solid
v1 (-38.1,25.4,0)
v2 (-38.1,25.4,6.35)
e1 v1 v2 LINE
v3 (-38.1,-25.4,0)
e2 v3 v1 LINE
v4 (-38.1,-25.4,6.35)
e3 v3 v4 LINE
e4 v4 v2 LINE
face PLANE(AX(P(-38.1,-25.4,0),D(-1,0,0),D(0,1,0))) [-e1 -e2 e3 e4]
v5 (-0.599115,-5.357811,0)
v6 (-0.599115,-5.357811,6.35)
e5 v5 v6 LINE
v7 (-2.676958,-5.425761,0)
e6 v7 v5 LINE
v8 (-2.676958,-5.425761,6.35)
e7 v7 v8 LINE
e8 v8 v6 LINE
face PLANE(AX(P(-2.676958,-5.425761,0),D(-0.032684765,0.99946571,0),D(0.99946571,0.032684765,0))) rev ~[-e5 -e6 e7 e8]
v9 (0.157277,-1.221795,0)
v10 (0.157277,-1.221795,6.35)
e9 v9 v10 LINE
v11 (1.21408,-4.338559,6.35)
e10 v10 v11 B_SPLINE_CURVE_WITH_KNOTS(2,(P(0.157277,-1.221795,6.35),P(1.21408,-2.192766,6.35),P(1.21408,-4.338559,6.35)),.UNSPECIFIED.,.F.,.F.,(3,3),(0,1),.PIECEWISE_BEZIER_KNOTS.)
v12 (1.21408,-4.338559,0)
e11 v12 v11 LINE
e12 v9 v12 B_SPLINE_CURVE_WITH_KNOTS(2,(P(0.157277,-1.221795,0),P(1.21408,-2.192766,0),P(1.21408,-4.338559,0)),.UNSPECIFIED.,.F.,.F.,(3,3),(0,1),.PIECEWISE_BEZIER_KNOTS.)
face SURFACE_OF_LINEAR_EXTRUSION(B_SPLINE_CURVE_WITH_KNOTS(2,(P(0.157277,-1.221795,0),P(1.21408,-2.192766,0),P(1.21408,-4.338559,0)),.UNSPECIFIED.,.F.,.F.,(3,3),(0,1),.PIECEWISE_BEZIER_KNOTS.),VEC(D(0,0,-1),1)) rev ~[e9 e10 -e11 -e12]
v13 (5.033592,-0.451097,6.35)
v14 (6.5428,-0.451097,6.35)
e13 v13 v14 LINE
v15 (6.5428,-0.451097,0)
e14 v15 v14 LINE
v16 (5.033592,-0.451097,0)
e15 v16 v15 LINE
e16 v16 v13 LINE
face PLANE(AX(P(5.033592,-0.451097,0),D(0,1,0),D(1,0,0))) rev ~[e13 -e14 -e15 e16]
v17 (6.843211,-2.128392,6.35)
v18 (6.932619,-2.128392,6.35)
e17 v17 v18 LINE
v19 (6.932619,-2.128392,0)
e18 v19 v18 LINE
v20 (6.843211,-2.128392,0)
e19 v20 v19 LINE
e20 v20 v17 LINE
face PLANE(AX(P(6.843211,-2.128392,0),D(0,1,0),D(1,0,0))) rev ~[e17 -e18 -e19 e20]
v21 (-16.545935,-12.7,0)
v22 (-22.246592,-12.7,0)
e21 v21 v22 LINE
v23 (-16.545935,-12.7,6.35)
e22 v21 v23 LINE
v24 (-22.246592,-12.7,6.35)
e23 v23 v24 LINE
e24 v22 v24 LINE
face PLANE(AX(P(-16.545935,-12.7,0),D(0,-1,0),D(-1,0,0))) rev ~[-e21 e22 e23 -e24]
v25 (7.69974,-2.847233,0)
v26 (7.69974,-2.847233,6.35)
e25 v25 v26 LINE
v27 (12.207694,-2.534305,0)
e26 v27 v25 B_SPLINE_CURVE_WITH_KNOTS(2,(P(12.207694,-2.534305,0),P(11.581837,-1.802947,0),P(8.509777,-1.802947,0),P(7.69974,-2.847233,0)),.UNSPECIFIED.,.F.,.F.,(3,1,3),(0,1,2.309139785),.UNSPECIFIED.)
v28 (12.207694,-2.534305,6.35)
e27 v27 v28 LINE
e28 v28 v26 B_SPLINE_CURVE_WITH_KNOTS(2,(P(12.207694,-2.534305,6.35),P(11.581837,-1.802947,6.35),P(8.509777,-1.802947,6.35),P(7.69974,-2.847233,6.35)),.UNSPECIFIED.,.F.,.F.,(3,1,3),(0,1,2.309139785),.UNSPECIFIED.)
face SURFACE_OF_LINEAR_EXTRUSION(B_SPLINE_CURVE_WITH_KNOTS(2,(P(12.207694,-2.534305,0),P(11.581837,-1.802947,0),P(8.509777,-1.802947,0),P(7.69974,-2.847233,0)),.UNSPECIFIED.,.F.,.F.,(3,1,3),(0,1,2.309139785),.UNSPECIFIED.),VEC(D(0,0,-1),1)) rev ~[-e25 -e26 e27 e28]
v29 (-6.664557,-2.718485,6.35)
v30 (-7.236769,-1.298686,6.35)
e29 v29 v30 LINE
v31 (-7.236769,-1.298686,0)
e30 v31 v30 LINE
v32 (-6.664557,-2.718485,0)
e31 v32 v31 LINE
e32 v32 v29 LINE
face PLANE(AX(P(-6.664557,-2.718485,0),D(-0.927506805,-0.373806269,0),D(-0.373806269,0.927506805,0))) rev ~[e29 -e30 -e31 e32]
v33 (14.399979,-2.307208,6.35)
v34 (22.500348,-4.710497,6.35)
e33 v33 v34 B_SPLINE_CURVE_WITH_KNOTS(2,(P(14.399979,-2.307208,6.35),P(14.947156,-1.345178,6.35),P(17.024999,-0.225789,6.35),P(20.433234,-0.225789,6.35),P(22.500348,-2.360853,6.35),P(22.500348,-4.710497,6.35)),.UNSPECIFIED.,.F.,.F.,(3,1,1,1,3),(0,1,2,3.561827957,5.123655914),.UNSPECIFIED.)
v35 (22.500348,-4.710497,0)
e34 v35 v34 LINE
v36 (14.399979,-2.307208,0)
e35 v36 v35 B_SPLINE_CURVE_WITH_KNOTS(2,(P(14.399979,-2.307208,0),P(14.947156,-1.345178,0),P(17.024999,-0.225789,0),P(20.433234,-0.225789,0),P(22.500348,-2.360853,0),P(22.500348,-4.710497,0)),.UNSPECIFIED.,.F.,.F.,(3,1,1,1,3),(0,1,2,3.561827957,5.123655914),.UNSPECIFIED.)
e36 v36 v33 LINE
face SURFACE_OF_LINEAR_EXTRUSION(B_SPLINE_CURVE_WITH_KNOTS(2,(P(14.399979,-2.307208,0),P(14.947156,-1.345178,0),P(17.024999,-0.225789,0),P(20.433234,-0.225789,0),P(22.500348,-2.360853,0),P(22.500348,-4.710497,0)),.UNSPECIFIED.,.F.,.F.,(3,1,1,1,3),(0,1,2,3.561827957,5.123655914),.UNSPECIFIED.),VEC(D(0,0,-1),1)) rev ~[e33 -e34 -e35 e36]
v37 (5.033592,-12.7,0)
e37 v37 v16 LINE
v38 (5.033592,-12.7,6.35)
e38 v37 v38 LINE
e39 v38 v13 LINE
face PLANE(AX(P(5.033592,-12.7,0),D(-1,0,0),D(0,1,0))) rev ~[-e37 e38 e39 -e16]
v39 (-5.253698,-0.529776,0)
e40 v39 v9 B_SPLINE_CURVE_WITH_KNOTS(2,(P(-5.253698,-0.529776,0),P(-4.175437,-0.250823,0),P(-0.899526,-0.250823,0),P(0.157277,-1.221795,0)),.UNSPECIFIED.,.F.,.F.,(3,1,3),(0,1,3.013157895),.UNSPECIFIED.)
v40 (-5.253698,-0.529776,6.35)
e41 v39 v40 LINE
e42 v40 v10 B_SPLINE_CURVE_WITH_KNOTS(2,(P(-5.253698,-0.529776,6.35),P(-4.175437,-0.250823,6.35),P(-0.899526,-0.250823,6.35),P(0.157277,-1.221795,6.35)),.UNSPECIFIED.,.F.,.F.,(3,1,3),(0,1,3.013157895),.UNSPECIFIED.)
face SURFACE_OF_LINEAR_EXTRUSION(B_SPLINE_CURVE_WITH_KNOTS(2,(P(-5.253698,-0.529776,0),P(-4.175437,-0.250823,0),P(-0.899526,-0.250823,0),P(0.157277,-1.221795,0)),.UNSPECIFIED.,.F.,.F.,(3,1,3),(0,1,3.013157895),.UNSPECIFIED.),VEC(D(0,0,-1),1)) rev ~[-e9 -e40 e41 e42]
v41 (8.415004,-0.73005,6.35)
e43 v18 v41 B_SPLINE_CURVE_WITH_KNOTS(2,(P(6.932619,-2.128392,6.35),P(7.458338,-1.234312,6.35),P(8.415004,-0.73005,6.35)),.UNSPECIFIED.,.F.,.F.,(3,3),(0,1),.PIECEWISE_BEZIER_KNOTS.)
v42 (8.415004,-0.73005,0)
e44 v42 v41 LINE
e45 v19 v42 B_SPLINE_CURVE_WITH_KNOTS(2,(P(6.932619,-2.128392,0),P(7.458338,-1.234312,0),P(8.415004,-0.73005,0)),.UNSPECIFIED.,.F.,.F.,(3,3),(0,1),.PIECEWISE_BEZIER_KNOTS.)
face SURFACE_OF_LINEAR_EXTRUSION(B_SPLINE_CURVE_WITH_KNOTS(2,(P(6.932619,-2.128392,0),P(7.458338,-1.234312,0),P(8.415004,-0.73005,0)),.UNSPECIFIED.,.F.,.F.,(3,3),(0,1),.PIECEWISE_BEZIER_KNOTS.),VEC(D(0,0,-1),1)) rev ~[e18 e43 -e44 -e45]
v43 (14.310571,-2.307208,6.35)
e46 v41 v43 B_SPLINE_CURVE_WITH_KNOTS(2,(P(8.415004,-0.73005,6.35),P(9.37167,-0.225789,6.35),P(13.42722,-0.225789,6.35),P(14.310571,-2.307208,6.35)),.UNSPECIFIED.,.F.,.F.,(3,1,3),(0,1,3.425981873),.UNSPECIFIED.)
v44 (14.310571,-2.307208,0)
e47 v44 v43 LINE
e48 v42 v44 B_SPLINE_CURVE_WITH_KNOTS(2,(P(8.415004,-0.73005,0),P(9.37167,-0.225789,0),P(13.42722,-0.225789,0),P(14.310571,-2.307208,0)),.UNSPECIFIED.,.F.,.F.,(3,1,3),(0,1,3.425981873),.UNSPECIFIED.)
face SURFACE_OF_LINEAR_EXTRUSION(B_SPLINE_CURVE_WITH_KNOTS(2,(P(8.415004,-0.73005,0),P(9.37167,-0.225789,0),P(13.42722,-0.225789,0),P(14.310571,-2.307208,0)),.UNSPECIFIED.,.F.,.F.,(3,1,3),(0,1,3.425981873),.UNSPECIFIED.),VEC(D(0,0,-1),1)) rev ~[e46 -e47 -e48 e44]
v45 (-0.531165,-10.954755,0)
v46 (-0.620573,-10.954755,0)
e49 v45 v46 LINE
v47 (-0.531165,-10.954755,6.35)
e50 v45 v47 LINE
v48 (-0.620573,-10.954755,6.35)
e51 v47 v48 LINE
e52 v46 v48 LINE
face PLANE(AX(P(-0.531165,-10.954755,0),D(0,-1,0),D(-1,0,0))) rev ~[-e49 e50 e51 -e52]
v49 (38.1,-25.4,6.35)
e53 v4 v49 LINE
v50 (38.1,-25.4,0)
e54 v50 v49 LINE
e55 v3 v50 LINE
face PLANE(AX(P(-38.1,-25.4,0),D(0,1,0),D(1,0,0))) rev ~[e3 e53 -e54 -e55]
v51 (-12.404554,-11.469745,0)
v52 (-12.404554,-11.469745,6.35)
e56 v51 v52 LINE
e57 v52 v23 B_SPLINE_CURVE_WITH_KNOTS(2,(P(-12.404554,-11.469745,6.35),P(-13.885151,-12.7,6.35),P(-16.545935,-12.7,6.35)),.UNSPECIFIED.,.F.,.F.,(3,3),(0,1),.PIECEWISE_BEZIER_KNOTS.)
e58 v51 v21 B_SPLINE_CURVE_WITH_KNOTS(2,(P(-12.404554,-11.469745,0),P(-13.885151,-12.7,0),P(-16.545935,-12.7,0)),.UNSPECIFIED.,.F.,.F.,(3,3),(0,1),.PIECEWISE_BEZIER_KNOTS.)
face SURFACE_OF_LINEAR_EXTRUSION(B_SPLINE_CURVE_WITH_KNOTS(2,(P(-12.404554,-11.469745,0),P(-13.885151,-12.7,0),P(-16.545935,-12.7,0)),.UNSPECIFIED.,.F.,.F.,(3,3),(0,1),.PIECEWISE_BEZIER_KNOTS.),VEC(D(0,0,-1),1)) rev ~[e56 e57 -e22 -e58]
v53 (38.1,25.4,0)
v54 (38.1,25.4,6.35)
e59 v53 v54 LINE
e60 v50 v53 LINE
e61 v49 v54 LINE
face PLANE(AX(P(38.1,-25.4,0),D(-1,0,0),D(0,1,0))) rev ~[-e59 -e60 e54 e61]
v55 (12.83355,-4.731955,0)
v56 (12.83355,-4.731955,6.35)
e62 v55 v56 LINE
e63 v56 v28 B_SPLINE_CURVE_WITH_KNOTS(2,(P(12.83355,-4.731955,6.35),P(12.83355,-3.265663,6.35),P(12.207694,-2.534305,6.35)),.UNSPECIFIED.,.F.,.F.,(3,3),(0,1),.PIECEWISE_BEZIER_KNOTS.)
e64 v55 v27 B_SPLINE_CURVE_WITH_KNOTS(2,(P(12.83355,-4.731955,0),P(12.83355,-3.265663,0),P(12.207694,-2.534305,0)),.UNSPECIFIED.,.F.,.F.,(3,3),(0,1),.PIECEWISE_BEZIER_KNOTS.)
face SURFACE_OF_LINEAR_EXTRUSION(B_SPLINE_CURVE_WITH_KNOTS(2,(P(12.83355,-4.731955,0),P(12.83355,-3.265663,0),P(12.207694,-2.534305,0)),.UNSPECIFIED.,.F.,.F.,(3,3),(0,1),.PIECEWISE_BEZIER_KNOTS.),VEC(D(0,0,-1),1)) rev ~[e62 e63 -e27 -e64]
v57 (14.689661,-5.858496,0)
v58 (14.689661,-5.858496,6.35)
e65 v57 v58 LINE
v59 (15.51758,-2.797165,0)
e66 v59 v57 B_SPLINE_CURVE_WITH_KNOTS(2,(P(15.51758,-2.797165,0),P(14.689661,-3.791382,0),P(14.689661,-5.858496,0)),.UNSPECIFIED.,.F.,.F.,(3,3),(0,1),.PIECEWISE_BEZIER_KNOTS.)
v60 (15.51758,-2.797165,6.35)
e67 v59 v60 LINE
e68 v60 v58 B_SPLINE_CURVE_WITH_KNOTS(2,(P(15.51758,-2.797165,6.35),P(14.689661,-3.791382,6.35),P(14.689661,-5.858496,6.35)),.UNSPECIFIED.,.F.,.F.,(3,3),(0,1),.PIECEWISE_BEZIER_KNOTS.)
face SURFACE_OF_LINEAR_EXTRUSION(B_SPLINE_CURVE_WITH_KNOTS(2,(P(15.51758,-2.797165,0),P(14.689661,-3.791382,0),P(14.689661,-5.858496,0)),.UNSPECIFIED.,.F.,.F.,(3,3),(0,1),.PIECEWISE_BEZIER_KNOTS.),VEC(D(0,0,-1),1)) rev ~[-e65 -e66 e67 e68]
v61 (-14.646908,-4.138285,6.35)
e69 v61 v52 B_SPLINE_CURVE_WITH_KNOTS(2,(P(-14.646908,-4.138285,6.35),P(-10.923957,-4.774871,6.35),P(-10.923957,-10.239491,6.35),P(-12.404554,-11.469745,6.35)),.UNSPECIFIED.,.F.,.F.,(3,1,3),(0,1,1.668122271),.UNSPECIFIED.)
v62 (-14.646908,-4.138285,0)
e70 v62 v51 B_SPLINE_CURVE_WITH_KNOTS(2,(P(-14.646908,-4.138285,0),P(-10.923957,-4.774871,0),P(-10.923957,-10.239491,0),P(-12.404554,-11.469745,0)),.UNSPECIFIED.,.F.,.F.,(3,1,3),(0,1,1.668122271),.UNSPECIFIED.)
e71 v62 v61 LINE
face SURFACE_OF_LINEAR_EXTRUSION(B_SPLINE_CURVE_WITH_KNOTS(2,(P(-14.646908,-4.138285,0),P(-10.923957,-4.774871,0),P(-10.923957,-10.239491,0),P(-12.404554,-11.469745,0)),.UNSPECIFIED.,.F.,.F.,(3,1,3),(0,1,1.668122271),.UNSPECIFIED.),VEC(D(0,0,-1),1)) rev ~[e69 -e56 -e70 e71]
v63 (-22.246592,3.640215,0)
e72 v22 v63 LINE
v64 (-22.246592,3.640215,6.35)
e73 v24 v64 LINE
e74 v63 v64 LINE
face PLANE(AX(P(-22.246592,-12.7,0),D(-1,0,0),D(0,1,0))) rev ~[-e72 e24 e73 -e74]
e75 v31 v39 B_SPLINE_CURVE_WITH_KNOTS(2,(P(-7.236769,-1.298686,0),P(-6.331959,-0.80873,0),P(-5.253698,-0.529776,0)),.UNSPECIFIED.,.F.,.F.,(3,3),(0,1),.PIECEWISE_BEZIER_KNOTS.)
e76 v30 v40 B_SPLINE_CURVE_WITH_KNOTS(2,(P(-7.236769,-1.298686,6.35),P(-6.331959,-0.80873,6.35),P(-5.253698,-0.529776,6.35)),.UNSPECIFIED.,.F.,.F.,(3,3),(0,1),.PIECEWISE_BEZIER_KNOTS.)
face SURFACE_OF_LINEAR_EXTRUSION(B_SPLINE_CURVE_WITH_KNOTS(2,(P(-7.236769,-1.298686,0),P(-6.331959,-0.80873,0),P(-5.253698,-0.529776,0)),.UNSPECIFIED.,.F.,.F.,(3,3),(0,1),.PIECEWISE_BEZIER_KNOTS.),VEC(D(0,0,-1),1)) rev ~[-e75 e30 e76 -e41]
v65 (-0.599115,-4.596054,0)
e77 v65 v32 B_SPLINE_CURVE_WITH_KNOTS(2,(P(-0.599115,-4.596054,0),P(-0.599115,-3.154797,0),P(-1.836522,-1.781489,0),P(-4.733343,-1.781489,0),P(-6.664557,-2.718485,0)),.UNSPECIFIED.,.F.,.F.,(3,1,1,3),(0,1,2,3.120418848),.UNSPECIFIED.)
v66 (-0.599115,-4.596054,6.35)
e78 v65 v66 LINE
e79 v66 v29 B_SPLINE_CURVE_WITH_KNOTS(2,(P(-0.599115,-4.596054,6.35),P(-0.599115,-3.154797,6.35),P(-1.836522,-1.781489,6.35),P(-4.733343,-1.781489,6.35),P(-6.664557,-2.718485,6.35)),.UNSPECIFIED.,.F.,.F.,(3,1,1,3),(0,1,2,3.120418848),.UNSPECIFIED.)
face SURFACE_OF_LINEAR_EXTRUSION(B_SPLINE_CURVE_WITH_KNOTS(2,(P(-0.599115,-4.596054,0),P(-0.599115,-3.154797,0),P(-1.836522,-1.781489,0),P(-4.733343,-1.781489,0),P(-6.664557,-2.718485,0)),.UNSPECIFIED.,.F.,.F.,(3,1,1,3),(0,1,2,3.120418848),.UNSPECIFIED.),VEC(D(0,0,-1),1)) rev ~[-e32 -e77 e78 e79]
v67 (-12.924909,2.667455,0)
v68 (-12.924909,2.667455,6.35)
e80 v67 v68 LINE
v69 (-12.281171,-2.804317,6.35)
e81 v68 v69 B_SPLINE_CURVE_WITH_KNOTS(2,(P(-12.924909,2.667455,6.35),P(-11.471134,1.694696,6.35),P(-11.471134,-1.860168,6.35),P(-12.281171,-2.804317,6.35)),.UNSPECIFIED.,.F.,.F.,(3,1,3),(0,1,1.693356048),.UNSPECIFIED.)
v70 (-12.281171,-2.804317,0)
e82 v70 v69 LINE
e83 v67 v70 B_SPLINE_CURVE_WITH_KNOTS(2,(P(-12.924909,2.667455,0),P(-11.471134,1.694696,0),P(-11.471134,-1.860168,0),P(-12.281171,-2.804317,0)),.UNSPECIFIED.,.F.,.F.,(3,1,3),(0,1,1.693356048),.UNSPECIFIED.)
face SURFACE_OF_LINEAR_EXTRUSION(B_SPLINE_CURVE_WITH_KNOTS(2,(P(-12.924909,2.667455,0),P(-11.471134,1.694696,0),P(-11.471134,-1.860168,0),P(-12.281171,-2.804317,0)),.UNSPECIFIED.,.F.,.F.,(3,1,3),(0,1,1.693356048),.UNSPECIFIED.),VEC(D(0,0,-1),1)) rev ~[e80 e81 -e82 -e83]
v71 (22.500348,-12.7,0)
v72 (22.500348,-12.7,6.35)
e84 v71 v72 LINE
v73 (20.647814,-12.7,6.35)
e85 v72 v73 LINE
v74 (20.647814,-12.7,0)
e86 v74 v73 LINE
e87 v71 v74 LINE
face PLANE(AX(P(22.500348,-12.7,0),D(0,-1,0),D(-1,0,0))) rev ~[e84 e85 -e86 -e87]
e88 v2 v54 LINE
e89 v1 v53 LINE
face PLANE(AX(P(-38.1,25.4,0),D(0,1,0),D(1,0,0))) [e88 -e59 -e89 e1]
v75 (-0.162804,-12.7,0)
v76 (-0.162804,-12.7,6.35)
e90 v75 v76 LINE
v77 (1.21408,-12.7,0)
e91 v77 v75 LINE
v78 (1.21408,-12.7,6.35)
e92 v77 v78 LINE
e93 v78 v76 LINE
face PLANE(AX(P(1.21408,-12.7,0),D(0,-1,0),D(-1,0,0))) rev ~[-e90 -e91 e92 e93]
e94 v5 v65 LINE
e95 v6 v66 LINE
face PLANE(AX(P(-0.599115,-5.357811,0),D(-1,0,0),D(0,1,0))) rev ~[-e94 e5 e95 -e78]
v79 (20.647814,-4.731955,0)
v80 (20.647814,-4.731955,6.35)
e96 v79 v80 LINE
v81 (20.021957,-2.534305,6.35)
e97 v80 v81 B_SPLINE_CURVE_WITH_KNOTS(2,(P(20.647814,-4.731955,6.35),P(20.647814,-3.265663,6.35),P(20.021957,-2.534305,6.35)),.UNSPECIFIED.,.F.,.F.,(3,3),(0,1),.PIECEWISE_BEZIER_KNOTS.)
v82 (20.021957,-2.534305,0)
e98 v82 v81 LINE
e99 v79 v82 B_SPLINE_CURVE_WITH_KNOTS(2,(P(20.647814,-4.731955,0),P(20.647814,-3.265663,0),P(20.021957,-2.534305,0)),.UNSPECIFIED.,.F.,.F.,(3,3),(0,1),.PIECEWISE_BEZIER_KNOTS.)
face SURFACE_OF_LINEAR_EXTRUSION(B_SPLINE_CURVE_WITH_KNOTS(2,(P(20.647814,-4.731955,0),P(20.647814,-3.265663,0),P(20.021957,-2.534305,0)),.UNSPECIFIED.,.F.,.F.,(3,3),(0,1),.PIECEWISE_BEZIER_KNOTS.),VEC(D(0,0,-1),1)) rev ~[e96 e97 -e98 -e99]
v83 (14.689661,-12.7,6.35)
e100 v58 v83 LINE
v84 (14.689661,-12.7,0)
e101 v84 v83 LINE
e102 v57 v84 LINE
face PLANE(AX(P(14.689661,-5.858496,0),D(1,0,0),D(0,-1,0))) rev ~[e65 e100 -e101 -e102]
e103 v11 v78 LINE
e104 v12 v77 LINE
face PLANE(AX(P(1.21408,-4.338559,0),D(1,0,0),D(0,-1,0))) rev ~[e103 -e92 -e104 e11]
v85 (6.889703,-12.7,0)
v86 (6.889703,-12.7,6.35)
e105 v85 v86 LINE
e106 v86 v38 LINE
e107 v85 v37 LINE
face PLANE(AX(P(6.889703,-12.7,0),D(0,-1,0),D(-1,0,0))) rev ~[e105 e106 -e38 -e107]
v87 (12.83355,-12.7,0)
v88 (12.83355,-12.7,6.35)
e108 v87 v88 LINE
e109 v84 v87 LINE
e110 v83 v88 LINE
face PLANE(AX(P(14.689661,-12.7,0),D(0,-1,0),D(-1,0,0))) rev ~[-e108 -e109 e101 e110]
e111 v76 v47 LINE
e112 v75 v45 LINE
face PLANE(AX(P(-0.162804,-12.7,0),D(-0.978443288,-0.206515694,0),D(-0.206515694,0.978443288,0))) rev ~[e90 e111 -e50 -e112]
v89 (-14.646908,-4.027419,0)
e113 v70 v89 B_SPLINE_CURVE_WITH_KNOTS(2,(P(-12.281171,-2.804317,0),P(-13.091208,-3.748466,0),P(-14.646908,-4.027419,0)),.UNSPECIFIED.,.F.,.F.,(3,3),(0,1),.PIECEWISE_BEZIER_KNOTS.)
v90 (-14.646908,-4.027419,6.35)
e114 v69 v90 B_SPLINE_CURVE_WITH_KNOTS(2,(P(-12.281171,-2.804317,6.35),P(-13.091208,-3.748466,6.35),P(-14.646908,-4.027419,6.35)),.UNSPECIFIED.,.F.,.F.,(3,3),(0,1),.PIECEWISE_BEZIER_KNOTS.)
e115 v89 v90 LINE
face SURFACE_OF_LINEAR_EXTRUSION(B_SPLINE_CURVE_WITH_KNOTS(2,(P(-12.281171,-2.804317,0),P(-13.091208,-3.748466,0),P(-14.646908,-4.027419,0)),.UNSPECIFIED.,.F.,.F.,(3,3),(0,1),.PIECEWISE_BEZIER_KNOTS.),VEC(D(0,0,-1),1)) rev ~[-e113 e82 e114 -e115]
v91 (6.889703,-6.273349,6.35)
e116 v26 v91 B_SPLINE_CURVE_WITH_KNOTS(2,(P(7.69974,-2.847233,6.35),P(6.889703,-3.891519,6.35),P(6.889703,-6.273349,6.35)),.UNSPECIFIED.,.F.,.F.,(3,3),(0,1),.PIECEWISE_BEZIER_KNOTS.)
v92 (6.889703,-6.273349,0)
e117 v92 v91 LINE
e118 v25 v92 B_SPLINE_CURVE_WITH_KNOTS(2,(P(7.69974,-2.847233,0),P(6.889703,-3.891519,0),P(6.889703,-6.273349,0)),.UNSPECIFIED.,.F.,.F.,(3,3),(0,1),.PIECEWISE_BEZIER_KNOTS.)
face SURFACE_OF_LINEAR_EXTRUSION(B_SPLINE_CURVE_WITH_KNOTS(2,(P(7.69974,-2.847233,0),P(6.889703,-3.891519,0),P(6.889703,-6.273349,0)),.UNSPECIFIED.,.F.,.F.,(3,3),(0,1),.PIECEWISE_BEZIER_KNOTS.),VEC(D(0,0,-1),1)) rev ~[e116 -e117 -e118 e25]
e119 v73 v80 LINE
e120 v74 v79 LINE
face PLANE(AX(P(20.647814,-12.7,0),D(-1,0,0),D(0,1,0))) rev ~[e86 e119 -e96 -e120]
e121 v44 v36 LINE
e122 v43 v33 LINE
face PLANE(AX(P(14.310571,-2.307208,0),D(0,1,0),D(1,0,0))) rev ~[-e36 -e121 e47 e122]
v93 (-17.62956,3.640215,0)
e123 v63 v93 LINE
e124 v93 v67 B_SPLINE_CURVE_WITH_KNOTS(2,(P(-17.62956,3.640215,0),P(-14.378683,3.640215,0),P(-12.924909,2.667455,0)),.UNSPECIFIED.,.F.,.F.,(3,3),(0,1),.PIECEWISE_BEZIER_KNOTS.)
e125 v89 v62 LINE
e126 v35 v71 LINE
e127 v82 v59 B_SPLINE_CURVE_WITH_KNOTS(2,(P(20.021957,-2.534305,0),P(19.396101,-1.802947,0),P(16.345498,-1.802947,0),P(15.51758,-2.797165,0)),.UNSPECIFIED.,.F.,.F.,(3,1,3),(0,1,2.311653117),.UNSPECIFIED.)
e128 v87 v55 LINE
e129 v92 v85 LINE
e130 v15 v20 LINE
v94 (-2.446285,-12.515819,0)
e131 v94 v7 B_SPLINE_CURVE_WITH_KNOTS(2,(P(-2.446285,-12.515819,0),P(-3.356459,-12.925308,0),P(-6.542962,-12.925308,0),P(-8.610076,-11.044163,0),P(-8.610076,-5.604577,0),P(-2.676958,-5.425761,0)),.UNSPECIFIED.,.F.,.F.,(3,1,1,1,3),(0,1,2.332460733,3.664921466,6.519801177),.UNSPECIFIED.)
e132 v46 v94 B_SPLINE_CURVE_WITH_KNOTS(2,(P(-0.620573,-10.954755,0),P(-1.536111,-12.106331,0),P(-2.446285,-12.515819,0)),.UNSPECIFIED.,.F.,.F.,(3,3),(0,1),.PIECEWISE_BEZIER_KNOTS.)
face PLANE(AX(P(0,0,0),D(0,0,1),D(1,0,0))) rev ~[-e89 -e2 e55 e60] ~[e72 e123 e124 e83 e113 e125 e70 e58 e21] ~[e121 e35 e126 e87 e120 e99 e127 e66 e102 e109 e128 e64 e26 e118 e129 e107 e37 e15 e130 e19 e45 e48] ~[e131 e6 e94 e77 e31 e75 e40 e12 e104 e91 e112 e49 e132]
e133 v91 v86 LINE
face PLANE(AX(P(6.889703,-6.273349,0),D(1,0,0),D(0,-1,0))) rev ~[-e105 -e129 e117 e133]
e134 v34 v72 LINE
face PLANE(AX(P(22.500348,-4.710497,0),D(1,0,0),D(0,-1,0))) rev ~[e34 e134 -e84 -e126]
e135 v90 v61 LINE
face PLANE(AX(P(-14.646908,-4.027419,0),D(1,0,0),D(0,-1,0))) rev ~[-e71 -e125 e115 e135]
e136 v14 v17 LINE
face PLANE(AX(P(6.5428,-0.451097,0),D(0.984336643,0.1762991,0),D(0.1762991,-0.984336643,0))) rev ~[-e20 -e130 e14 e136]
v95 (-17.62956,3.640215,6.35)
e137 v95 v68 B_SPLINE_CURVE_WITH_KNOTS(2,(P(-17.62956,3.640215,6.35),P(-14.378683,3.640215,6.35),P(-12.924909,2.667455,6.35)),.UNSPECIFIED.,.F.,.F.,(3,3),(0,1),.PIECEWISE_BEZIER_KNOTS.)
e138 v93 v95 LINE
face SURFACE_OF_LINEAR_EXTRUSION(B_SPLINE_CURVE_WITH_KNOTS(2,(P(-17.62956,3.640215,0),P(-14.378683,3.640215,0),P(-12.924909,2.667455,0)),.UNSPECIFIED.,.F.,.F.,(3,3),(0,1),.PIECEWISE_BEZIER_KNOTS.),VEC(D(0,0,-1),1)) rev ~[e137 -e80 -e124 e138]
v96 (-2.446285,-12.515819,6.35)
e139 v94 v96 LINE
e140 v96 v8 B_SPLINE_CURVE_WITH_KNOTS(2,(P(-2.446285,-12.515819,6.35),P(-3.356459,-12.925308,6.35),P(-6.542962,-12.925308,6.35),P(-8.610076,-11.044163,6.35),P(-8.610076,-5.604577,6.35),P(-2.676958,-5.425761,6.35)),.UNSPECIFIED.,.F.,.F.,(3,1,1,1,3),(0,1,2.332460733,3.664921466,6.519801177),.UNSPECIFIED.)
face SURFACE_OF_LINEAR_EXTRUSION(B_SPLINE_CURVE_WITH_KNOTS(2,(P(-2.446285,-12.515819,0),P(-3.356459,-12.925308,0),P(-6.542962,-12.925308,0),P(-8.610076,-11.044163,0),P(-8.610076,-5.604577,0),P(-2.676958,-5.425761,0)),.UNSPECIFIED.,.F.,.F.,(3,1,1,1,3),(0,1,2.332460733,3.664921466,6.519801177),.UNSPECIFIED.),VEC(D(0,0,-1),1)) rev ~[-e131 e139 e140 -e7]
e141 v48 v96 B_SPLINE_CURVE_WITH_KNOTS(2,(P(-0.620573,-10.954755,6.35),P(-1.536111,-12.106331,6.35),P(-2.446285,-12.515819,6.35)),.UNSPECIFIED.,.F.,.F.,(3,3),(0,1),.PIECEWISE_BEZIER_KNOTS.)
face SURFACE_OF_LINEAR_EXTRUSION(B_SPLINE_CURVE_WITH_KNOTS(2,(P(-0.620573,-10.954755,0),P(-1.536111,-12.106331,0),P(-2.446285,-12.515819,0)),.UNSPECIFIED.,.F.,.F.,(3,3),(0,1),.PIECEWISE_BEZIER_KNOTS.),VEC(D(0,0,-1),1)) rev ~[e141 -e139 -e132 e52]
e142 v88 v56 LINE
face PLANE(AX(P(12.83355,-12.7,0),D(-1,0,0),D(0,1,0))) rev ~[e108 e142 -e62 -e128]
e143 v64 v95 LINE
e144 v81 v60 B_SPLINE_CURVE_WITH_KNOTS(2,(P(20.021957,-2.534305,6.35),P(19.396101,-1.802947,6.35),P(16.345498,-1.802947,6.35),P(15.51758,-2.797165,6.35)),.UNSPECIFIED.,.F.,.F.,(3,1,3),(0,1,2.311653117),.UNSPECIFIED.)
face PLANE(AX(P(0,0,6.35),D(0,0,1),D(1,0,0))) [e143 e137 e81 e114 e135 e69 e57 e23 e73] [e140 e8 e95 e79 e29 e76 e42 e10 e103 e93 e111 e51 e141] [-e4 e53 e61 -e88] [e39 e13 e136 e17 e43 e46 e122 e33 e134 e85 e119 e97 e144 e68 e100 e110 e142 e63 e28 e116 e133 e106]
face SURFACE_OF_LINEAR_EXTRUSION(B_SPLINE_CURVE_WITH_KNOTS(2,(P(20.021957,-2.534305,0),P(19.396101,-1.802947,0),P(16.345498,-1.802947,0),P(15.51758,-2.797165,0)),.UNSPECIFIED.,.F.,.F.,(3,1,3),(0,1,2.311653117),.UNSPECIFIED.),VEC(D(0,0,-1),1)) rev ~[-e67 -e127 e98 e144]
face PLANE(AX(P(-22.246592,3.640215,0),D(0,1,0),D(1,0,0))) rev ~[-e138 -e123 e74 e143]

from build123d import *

# Parameters (mm, degrees)
F0_W     = 76.2
F0_H     = 50.8
F1_DEPTH = 6.35


with BuildPart() as f1:
    # F0 (on Top) → F1 (new body)
    with BuildSketch(Plane.XY):
        Rectangle(F0_W, F0_H)
        with BuildLine():
            Line((1.2140801556, -12.7), (-0.1628037906, -12.7))
            Line((-0.1628037906, -12.7), (-0.5311649502, -10.9547548942))
            Line((-0.5311649502, -10.9547548942), (-0.6205729987, -10.9547548942))
            add(Edge.make_bspline(
                [(-0.6205729987, -10.9547548942), (-1.5361114148, -12.1063305583), (-2.446285348, -12.5158194202)],
                knots=[0, 0, 0, 1, 1, 1], degree=2))
            add(Edge.make_bspline(
                [(-2.446285348, -12.5158194202), (-3.3564592813, -12.9253082821), (-4.7226142616, -12.9253082821)],
                knots=[0, 0, 0, 1, 1, 1], degree=2))
            add(Edge.make_bspline(
                [(-4.7226142616, -12.9253082821), (-6.5429621281, -12.9253082821), (-7.5765191682, -11.9847356124)],
                knots=[0, 0, 0, 1, 1, 1], degree=2))
            add(Edge.make_bspline(
                [(-7.5765191682, -11.9847356124), (-8.6100762083, -11.0441629427), (-8.6100762083, -9.3132231247)],
                knots=[0, 0, 0, 1, 1, 1], degree=2))
            add(Edge.make_bspline(
                [(-8.6100762083, -9.3132231247), (-8.6100762083, -5.6045772749), (-2.676958113, -5.425761178)],
                knots=[0, 0, 0, 1, 1, 1], degree=2))
            Line((-2.676958113, -5.425761178), (-0.599115067, -5.3578110612))
            Line((-0.599115067, -5.3578110612), (-0.599115067, -4.5960544884))
            add(Edge.make_bspline(
                [(-0.599115067, -4.5960544884), (-0.599115067, -3.1547967473), (-1.2178187623, -2.4681429352)],
                knots=[0, 0, 0, 1, 1, 1], degree=2))
            add(Edge.make_bspline(
                [(-1.2178187623, -2.4681429352), (-1.8365224576, -1.7814891231), (-3.2026774379, -1.7814891231)],
                knots=[0, 0, 0, 1, 1, 1], degree=2))
            add(Edge.make_bspline(
                [(-3.2026774379, -1.7814891231), (-4.7333432274, -1.7814891231), (-6.664557074, -2.7184854709)],
                knots=[0, 0, 0, 1, 1, 1], degree=2))
            Line((-6.664557074, -2.7184854709), (-7.236768584, -1.2986856615))
            add(Edge.make_bspline(
                [(-7.236768584, -1.2986856615), (-6.3319591337, -0.808729556), (-5.2536980694, -0.5297764448)],
                knots=[0, 0, 0, 1, 1, 1], degree=2))
            add(Edge.make_bspline(
                [(-5.2536980694, -0.5297764448), (-4.1754370051, -0.2508233337), (-3.0882351359, -0.2508233337)],
                knots=[0, 0, 0, 1, 1, 1], degree=2))
            add(Edge.make_bspline(
                [(-3.0882351359, -0.2508233337), (-0.8995261098, -0.2508233337), (0.1572770229, -1.2217947398)],
                knots=[0, 0, 0, 1, 1, 1], degree=2))
            add(Edge.make_bspline(
                [(0.1572770229, -1.2217947398), (1.2140801556, -2.192766146), (1.2140801556, -4.3385593088)],
                knots=[0, 0, 0, 1, 1, 1], degree=2))
            Line((1.2140801556, -4.3385593088), (1.2140801556, -12.7))
        make_face(mode=Mode.SUBTRACT)
        with BuildLine():
            Line((-22.246591758, -12.7), (-22.246591758, 3.6402149349))
            Line((-22.246591758, 3.6402149349), (-17.629560136, 3.6402149349))
            add(Edge.make_bspline(
                [(-17.629560136, 3.6402149349), (-14.3786834943, 3.6402149349), (-12.9249086265, 2.6674553678)],
                knots=[0, 0, 0, 1, 1, 1], degree=2))
            add(Edge.make_bspline(
                [(-12.9249086265, 2.6674553678), (-11.4711337587, 1.6946958006), (-11.4711337587, -0.404605177)],
                knots=[0, 0, 0, 1, 1, 1], degree=2))
            add(Edge.make_bspline(
                [(-11.4711337587, -0.404605177), (-11.4711337587, -1.8601682058), (-12.2811706777, -2.8043171974)],
                knots=[0, 0, 0, 1, 1, 1], degree=2))
            add(Edge.make_bspline(
                [(-12.2811706777, -2.8043171974), (-13.0912075966, -3.7484661891), (-14.6469076397, -4.0274193002)],
                knots=[0, 0, 0, 1, 1, 1], degree=2))
            Line((-14.6469076397, -4.0274193002), (-14.6469076397, -4.1382852803))
            add(Edge.make_bspline(
                [(-14.6469076397, -4.1382852803), (-10.9239565022, -4.7748705853), (-10.9239565022, -8.0507814805)],
                knots=[0, 0, 0, 1, 1, 1], degree=2))
            add(Edge.make_bspline(
                [(-10.9239565022, -8.0507814805), (-10.9239565022, -10.2394905066), (-12.4045537845, -11.4697452533)],
                knots=[0, 0, 0, 1, 1, 1], degree=2))
            add(Edge.make_bspline(
                [(-12.4045537845, -11.4697452533), (-13.8851510669, -12.7), (-16.5459345888, -12.7)],
                knots=[0, 0, 0, 1, 1, 1], degree=2))
            Line((-16.5459345888, -12.7), (-22.246591758, -12.7))
        make_face(mode=Mode.SUBTRACT)
        with BuildLine():
            Line((22.5003483308, -12.7), (20.6478135669, -12.7))
            Line((20.6478135669, -12.7), (20.6478135669, -4.731954722))
            add(Edge.make_bspline(
                [(20.6478135669, -4.731954722), (20.6478135669, -3.2656627274), (20.0219572278, -2.5343048911)],
                knots=[0, 0, 0, 1, 1, 1], degree=2))
            add(Edge.make_bspline(
                [(20.0219572278, -2.5343048911), (19.3961008886, -1.8029470548), (18.0764380935, -1.8029470548)],
                knots=[0, 0, 0, 1, 1, 1], degree=2))
            add(Edge.make_bspline(
                [(18.0764380935, -1.8029470548), (16.3454982755, -1.8029470548), (15.5175797468, -2.7971645535)],
                knots=[0, 0, 0, 1, 1, 1], degree=2))
            add(Edge.make_bspline(
                [(15.5175797468, -2.7971645535), (14.6896612181, -3.7913820523), (14.6896612181, -5.8584961325)],
                knots=[0, 0, 0, 1, 1, 1], degree=2))
            Line((14.6896612181, -5.8584961325), (14.6896612181, -12.7))
            Line((14.6896612181, -12.7), (12.8335501323, -12.7))
            Line((12.8335501323, -12.7), (12.8335501323, -4.731954722))
            add(Edge.make_bspline(
                [(12.8335501323, -4.731954722), (12.8335501323, -3.2656627274), (12.2076937931, -2.5343048911)],
                knots=[0, 0, 0, 1, 1, 1], degree=2))
            add(Edge.make_bspline(
                [(12.2076937931, -2.5343048911), (11.581837454, -1.8029470548), (10.251445693, -1.8029470548)],
                knots=[0, 0, 0, 1, 1, 1], degree=2))
            add(Edge.make_bspline(
                [(10.251445693, -1.8029470548), (8.5097769092, -1.8029470548), (7.6997399902, -2.8472330607)],
                knots=[0, 0, 0, 1, 1, 1], degree=2))
            add(Edge.make_bspline(
                [(7.6997399902, -2.8472330607), (6.8897030713, -3.8915190666), (6.8897030713, -6.2733494773)],
                knots=[0, 0, 0, 1, 1, 1], degree=2))
            Line((6.8897030713, -6.2733494773), (6.8897030713, -12.7))
            Line((6.8897030713, -12.7), (5.0335919854, -12.7))
            Line((5.0335919854, -12.7), (5.0335919854, -0.4510973622))
            Line((5.0335919854, -0.4510973622), (6.5427998433, -0.4510973622))
            Line((6.5427998433, -0.4510973622), (6.8432108861, -2.1283923511))
            Line((6.8432108861, -2.1283923511), (6.9326189345, -2.1283923511))
            add(Edge.make_bspline(
                [(6.9326189345, -2.1283923511), (7.4583382594, -1.2343118666), (8.4150043778, -0.7300504733)],
                knots=[0, 0, 0, 1, 1, 1], degree=2))
            add(Edge.make_bspline(
                [(8.4150043778, -0.7300504733), (9.3716704963, -0.2257890801), (10.5554330578, -0.2257890801)],
                knots=[0, 0, 0, 1, 1, 1], degree=2))
            add(Edge.make_bspline(
                [(10.5554330578, -0.2257890801), (13.427219574, -0.2257890801), (14.3105710927, -2.307208448)],
                knots=[0, 0, 0, 1, 1, 1], degree=2))
            Line((14.3105710927, -2.307208448), (14.3999791412, -2.307208448))
            add(Edge.make_bspline(
                [(14.3999791412, -2.307208448), (14.9471563977, -1.3451778467), (15.9860779207, -0.7854834634)],
                knots=[0, 0, 0, 1, 1, 1], degree=2))
            add(Edge.make_bspline(
                [(15.9860779207, -0.7854834634), (17.0249994437, -0.2257890801), (18.3553912046, -0.2257890801)],
                knots=[0, 0, 0, 1, 1, 1], degree=2))
            add(Edge.make_bspline(
                [(18.3553912046, -0.2257890801), (20.4332342506, -0.2257890801), (21.4667912907, -1.2933211786)],
                knots=[0, 0, 0, 1, 1, 1], degree=2))
            add(Edge.make_bspline(
                [(21.4667912907, -1.2933211786), (22.5003483308, -2.3608532771), (22.5003483308, -4.7104967904)],
                knots=[0, 0, 0, 1, 1, 1], degree=2))
            Line((22.5003483308, -4.7104967904), (22.5003483308, -12.7))
        make_face(mode=Mode.SUBTRACT)
    extrude(amount=F1_DEPTH)


solid = f1.part
